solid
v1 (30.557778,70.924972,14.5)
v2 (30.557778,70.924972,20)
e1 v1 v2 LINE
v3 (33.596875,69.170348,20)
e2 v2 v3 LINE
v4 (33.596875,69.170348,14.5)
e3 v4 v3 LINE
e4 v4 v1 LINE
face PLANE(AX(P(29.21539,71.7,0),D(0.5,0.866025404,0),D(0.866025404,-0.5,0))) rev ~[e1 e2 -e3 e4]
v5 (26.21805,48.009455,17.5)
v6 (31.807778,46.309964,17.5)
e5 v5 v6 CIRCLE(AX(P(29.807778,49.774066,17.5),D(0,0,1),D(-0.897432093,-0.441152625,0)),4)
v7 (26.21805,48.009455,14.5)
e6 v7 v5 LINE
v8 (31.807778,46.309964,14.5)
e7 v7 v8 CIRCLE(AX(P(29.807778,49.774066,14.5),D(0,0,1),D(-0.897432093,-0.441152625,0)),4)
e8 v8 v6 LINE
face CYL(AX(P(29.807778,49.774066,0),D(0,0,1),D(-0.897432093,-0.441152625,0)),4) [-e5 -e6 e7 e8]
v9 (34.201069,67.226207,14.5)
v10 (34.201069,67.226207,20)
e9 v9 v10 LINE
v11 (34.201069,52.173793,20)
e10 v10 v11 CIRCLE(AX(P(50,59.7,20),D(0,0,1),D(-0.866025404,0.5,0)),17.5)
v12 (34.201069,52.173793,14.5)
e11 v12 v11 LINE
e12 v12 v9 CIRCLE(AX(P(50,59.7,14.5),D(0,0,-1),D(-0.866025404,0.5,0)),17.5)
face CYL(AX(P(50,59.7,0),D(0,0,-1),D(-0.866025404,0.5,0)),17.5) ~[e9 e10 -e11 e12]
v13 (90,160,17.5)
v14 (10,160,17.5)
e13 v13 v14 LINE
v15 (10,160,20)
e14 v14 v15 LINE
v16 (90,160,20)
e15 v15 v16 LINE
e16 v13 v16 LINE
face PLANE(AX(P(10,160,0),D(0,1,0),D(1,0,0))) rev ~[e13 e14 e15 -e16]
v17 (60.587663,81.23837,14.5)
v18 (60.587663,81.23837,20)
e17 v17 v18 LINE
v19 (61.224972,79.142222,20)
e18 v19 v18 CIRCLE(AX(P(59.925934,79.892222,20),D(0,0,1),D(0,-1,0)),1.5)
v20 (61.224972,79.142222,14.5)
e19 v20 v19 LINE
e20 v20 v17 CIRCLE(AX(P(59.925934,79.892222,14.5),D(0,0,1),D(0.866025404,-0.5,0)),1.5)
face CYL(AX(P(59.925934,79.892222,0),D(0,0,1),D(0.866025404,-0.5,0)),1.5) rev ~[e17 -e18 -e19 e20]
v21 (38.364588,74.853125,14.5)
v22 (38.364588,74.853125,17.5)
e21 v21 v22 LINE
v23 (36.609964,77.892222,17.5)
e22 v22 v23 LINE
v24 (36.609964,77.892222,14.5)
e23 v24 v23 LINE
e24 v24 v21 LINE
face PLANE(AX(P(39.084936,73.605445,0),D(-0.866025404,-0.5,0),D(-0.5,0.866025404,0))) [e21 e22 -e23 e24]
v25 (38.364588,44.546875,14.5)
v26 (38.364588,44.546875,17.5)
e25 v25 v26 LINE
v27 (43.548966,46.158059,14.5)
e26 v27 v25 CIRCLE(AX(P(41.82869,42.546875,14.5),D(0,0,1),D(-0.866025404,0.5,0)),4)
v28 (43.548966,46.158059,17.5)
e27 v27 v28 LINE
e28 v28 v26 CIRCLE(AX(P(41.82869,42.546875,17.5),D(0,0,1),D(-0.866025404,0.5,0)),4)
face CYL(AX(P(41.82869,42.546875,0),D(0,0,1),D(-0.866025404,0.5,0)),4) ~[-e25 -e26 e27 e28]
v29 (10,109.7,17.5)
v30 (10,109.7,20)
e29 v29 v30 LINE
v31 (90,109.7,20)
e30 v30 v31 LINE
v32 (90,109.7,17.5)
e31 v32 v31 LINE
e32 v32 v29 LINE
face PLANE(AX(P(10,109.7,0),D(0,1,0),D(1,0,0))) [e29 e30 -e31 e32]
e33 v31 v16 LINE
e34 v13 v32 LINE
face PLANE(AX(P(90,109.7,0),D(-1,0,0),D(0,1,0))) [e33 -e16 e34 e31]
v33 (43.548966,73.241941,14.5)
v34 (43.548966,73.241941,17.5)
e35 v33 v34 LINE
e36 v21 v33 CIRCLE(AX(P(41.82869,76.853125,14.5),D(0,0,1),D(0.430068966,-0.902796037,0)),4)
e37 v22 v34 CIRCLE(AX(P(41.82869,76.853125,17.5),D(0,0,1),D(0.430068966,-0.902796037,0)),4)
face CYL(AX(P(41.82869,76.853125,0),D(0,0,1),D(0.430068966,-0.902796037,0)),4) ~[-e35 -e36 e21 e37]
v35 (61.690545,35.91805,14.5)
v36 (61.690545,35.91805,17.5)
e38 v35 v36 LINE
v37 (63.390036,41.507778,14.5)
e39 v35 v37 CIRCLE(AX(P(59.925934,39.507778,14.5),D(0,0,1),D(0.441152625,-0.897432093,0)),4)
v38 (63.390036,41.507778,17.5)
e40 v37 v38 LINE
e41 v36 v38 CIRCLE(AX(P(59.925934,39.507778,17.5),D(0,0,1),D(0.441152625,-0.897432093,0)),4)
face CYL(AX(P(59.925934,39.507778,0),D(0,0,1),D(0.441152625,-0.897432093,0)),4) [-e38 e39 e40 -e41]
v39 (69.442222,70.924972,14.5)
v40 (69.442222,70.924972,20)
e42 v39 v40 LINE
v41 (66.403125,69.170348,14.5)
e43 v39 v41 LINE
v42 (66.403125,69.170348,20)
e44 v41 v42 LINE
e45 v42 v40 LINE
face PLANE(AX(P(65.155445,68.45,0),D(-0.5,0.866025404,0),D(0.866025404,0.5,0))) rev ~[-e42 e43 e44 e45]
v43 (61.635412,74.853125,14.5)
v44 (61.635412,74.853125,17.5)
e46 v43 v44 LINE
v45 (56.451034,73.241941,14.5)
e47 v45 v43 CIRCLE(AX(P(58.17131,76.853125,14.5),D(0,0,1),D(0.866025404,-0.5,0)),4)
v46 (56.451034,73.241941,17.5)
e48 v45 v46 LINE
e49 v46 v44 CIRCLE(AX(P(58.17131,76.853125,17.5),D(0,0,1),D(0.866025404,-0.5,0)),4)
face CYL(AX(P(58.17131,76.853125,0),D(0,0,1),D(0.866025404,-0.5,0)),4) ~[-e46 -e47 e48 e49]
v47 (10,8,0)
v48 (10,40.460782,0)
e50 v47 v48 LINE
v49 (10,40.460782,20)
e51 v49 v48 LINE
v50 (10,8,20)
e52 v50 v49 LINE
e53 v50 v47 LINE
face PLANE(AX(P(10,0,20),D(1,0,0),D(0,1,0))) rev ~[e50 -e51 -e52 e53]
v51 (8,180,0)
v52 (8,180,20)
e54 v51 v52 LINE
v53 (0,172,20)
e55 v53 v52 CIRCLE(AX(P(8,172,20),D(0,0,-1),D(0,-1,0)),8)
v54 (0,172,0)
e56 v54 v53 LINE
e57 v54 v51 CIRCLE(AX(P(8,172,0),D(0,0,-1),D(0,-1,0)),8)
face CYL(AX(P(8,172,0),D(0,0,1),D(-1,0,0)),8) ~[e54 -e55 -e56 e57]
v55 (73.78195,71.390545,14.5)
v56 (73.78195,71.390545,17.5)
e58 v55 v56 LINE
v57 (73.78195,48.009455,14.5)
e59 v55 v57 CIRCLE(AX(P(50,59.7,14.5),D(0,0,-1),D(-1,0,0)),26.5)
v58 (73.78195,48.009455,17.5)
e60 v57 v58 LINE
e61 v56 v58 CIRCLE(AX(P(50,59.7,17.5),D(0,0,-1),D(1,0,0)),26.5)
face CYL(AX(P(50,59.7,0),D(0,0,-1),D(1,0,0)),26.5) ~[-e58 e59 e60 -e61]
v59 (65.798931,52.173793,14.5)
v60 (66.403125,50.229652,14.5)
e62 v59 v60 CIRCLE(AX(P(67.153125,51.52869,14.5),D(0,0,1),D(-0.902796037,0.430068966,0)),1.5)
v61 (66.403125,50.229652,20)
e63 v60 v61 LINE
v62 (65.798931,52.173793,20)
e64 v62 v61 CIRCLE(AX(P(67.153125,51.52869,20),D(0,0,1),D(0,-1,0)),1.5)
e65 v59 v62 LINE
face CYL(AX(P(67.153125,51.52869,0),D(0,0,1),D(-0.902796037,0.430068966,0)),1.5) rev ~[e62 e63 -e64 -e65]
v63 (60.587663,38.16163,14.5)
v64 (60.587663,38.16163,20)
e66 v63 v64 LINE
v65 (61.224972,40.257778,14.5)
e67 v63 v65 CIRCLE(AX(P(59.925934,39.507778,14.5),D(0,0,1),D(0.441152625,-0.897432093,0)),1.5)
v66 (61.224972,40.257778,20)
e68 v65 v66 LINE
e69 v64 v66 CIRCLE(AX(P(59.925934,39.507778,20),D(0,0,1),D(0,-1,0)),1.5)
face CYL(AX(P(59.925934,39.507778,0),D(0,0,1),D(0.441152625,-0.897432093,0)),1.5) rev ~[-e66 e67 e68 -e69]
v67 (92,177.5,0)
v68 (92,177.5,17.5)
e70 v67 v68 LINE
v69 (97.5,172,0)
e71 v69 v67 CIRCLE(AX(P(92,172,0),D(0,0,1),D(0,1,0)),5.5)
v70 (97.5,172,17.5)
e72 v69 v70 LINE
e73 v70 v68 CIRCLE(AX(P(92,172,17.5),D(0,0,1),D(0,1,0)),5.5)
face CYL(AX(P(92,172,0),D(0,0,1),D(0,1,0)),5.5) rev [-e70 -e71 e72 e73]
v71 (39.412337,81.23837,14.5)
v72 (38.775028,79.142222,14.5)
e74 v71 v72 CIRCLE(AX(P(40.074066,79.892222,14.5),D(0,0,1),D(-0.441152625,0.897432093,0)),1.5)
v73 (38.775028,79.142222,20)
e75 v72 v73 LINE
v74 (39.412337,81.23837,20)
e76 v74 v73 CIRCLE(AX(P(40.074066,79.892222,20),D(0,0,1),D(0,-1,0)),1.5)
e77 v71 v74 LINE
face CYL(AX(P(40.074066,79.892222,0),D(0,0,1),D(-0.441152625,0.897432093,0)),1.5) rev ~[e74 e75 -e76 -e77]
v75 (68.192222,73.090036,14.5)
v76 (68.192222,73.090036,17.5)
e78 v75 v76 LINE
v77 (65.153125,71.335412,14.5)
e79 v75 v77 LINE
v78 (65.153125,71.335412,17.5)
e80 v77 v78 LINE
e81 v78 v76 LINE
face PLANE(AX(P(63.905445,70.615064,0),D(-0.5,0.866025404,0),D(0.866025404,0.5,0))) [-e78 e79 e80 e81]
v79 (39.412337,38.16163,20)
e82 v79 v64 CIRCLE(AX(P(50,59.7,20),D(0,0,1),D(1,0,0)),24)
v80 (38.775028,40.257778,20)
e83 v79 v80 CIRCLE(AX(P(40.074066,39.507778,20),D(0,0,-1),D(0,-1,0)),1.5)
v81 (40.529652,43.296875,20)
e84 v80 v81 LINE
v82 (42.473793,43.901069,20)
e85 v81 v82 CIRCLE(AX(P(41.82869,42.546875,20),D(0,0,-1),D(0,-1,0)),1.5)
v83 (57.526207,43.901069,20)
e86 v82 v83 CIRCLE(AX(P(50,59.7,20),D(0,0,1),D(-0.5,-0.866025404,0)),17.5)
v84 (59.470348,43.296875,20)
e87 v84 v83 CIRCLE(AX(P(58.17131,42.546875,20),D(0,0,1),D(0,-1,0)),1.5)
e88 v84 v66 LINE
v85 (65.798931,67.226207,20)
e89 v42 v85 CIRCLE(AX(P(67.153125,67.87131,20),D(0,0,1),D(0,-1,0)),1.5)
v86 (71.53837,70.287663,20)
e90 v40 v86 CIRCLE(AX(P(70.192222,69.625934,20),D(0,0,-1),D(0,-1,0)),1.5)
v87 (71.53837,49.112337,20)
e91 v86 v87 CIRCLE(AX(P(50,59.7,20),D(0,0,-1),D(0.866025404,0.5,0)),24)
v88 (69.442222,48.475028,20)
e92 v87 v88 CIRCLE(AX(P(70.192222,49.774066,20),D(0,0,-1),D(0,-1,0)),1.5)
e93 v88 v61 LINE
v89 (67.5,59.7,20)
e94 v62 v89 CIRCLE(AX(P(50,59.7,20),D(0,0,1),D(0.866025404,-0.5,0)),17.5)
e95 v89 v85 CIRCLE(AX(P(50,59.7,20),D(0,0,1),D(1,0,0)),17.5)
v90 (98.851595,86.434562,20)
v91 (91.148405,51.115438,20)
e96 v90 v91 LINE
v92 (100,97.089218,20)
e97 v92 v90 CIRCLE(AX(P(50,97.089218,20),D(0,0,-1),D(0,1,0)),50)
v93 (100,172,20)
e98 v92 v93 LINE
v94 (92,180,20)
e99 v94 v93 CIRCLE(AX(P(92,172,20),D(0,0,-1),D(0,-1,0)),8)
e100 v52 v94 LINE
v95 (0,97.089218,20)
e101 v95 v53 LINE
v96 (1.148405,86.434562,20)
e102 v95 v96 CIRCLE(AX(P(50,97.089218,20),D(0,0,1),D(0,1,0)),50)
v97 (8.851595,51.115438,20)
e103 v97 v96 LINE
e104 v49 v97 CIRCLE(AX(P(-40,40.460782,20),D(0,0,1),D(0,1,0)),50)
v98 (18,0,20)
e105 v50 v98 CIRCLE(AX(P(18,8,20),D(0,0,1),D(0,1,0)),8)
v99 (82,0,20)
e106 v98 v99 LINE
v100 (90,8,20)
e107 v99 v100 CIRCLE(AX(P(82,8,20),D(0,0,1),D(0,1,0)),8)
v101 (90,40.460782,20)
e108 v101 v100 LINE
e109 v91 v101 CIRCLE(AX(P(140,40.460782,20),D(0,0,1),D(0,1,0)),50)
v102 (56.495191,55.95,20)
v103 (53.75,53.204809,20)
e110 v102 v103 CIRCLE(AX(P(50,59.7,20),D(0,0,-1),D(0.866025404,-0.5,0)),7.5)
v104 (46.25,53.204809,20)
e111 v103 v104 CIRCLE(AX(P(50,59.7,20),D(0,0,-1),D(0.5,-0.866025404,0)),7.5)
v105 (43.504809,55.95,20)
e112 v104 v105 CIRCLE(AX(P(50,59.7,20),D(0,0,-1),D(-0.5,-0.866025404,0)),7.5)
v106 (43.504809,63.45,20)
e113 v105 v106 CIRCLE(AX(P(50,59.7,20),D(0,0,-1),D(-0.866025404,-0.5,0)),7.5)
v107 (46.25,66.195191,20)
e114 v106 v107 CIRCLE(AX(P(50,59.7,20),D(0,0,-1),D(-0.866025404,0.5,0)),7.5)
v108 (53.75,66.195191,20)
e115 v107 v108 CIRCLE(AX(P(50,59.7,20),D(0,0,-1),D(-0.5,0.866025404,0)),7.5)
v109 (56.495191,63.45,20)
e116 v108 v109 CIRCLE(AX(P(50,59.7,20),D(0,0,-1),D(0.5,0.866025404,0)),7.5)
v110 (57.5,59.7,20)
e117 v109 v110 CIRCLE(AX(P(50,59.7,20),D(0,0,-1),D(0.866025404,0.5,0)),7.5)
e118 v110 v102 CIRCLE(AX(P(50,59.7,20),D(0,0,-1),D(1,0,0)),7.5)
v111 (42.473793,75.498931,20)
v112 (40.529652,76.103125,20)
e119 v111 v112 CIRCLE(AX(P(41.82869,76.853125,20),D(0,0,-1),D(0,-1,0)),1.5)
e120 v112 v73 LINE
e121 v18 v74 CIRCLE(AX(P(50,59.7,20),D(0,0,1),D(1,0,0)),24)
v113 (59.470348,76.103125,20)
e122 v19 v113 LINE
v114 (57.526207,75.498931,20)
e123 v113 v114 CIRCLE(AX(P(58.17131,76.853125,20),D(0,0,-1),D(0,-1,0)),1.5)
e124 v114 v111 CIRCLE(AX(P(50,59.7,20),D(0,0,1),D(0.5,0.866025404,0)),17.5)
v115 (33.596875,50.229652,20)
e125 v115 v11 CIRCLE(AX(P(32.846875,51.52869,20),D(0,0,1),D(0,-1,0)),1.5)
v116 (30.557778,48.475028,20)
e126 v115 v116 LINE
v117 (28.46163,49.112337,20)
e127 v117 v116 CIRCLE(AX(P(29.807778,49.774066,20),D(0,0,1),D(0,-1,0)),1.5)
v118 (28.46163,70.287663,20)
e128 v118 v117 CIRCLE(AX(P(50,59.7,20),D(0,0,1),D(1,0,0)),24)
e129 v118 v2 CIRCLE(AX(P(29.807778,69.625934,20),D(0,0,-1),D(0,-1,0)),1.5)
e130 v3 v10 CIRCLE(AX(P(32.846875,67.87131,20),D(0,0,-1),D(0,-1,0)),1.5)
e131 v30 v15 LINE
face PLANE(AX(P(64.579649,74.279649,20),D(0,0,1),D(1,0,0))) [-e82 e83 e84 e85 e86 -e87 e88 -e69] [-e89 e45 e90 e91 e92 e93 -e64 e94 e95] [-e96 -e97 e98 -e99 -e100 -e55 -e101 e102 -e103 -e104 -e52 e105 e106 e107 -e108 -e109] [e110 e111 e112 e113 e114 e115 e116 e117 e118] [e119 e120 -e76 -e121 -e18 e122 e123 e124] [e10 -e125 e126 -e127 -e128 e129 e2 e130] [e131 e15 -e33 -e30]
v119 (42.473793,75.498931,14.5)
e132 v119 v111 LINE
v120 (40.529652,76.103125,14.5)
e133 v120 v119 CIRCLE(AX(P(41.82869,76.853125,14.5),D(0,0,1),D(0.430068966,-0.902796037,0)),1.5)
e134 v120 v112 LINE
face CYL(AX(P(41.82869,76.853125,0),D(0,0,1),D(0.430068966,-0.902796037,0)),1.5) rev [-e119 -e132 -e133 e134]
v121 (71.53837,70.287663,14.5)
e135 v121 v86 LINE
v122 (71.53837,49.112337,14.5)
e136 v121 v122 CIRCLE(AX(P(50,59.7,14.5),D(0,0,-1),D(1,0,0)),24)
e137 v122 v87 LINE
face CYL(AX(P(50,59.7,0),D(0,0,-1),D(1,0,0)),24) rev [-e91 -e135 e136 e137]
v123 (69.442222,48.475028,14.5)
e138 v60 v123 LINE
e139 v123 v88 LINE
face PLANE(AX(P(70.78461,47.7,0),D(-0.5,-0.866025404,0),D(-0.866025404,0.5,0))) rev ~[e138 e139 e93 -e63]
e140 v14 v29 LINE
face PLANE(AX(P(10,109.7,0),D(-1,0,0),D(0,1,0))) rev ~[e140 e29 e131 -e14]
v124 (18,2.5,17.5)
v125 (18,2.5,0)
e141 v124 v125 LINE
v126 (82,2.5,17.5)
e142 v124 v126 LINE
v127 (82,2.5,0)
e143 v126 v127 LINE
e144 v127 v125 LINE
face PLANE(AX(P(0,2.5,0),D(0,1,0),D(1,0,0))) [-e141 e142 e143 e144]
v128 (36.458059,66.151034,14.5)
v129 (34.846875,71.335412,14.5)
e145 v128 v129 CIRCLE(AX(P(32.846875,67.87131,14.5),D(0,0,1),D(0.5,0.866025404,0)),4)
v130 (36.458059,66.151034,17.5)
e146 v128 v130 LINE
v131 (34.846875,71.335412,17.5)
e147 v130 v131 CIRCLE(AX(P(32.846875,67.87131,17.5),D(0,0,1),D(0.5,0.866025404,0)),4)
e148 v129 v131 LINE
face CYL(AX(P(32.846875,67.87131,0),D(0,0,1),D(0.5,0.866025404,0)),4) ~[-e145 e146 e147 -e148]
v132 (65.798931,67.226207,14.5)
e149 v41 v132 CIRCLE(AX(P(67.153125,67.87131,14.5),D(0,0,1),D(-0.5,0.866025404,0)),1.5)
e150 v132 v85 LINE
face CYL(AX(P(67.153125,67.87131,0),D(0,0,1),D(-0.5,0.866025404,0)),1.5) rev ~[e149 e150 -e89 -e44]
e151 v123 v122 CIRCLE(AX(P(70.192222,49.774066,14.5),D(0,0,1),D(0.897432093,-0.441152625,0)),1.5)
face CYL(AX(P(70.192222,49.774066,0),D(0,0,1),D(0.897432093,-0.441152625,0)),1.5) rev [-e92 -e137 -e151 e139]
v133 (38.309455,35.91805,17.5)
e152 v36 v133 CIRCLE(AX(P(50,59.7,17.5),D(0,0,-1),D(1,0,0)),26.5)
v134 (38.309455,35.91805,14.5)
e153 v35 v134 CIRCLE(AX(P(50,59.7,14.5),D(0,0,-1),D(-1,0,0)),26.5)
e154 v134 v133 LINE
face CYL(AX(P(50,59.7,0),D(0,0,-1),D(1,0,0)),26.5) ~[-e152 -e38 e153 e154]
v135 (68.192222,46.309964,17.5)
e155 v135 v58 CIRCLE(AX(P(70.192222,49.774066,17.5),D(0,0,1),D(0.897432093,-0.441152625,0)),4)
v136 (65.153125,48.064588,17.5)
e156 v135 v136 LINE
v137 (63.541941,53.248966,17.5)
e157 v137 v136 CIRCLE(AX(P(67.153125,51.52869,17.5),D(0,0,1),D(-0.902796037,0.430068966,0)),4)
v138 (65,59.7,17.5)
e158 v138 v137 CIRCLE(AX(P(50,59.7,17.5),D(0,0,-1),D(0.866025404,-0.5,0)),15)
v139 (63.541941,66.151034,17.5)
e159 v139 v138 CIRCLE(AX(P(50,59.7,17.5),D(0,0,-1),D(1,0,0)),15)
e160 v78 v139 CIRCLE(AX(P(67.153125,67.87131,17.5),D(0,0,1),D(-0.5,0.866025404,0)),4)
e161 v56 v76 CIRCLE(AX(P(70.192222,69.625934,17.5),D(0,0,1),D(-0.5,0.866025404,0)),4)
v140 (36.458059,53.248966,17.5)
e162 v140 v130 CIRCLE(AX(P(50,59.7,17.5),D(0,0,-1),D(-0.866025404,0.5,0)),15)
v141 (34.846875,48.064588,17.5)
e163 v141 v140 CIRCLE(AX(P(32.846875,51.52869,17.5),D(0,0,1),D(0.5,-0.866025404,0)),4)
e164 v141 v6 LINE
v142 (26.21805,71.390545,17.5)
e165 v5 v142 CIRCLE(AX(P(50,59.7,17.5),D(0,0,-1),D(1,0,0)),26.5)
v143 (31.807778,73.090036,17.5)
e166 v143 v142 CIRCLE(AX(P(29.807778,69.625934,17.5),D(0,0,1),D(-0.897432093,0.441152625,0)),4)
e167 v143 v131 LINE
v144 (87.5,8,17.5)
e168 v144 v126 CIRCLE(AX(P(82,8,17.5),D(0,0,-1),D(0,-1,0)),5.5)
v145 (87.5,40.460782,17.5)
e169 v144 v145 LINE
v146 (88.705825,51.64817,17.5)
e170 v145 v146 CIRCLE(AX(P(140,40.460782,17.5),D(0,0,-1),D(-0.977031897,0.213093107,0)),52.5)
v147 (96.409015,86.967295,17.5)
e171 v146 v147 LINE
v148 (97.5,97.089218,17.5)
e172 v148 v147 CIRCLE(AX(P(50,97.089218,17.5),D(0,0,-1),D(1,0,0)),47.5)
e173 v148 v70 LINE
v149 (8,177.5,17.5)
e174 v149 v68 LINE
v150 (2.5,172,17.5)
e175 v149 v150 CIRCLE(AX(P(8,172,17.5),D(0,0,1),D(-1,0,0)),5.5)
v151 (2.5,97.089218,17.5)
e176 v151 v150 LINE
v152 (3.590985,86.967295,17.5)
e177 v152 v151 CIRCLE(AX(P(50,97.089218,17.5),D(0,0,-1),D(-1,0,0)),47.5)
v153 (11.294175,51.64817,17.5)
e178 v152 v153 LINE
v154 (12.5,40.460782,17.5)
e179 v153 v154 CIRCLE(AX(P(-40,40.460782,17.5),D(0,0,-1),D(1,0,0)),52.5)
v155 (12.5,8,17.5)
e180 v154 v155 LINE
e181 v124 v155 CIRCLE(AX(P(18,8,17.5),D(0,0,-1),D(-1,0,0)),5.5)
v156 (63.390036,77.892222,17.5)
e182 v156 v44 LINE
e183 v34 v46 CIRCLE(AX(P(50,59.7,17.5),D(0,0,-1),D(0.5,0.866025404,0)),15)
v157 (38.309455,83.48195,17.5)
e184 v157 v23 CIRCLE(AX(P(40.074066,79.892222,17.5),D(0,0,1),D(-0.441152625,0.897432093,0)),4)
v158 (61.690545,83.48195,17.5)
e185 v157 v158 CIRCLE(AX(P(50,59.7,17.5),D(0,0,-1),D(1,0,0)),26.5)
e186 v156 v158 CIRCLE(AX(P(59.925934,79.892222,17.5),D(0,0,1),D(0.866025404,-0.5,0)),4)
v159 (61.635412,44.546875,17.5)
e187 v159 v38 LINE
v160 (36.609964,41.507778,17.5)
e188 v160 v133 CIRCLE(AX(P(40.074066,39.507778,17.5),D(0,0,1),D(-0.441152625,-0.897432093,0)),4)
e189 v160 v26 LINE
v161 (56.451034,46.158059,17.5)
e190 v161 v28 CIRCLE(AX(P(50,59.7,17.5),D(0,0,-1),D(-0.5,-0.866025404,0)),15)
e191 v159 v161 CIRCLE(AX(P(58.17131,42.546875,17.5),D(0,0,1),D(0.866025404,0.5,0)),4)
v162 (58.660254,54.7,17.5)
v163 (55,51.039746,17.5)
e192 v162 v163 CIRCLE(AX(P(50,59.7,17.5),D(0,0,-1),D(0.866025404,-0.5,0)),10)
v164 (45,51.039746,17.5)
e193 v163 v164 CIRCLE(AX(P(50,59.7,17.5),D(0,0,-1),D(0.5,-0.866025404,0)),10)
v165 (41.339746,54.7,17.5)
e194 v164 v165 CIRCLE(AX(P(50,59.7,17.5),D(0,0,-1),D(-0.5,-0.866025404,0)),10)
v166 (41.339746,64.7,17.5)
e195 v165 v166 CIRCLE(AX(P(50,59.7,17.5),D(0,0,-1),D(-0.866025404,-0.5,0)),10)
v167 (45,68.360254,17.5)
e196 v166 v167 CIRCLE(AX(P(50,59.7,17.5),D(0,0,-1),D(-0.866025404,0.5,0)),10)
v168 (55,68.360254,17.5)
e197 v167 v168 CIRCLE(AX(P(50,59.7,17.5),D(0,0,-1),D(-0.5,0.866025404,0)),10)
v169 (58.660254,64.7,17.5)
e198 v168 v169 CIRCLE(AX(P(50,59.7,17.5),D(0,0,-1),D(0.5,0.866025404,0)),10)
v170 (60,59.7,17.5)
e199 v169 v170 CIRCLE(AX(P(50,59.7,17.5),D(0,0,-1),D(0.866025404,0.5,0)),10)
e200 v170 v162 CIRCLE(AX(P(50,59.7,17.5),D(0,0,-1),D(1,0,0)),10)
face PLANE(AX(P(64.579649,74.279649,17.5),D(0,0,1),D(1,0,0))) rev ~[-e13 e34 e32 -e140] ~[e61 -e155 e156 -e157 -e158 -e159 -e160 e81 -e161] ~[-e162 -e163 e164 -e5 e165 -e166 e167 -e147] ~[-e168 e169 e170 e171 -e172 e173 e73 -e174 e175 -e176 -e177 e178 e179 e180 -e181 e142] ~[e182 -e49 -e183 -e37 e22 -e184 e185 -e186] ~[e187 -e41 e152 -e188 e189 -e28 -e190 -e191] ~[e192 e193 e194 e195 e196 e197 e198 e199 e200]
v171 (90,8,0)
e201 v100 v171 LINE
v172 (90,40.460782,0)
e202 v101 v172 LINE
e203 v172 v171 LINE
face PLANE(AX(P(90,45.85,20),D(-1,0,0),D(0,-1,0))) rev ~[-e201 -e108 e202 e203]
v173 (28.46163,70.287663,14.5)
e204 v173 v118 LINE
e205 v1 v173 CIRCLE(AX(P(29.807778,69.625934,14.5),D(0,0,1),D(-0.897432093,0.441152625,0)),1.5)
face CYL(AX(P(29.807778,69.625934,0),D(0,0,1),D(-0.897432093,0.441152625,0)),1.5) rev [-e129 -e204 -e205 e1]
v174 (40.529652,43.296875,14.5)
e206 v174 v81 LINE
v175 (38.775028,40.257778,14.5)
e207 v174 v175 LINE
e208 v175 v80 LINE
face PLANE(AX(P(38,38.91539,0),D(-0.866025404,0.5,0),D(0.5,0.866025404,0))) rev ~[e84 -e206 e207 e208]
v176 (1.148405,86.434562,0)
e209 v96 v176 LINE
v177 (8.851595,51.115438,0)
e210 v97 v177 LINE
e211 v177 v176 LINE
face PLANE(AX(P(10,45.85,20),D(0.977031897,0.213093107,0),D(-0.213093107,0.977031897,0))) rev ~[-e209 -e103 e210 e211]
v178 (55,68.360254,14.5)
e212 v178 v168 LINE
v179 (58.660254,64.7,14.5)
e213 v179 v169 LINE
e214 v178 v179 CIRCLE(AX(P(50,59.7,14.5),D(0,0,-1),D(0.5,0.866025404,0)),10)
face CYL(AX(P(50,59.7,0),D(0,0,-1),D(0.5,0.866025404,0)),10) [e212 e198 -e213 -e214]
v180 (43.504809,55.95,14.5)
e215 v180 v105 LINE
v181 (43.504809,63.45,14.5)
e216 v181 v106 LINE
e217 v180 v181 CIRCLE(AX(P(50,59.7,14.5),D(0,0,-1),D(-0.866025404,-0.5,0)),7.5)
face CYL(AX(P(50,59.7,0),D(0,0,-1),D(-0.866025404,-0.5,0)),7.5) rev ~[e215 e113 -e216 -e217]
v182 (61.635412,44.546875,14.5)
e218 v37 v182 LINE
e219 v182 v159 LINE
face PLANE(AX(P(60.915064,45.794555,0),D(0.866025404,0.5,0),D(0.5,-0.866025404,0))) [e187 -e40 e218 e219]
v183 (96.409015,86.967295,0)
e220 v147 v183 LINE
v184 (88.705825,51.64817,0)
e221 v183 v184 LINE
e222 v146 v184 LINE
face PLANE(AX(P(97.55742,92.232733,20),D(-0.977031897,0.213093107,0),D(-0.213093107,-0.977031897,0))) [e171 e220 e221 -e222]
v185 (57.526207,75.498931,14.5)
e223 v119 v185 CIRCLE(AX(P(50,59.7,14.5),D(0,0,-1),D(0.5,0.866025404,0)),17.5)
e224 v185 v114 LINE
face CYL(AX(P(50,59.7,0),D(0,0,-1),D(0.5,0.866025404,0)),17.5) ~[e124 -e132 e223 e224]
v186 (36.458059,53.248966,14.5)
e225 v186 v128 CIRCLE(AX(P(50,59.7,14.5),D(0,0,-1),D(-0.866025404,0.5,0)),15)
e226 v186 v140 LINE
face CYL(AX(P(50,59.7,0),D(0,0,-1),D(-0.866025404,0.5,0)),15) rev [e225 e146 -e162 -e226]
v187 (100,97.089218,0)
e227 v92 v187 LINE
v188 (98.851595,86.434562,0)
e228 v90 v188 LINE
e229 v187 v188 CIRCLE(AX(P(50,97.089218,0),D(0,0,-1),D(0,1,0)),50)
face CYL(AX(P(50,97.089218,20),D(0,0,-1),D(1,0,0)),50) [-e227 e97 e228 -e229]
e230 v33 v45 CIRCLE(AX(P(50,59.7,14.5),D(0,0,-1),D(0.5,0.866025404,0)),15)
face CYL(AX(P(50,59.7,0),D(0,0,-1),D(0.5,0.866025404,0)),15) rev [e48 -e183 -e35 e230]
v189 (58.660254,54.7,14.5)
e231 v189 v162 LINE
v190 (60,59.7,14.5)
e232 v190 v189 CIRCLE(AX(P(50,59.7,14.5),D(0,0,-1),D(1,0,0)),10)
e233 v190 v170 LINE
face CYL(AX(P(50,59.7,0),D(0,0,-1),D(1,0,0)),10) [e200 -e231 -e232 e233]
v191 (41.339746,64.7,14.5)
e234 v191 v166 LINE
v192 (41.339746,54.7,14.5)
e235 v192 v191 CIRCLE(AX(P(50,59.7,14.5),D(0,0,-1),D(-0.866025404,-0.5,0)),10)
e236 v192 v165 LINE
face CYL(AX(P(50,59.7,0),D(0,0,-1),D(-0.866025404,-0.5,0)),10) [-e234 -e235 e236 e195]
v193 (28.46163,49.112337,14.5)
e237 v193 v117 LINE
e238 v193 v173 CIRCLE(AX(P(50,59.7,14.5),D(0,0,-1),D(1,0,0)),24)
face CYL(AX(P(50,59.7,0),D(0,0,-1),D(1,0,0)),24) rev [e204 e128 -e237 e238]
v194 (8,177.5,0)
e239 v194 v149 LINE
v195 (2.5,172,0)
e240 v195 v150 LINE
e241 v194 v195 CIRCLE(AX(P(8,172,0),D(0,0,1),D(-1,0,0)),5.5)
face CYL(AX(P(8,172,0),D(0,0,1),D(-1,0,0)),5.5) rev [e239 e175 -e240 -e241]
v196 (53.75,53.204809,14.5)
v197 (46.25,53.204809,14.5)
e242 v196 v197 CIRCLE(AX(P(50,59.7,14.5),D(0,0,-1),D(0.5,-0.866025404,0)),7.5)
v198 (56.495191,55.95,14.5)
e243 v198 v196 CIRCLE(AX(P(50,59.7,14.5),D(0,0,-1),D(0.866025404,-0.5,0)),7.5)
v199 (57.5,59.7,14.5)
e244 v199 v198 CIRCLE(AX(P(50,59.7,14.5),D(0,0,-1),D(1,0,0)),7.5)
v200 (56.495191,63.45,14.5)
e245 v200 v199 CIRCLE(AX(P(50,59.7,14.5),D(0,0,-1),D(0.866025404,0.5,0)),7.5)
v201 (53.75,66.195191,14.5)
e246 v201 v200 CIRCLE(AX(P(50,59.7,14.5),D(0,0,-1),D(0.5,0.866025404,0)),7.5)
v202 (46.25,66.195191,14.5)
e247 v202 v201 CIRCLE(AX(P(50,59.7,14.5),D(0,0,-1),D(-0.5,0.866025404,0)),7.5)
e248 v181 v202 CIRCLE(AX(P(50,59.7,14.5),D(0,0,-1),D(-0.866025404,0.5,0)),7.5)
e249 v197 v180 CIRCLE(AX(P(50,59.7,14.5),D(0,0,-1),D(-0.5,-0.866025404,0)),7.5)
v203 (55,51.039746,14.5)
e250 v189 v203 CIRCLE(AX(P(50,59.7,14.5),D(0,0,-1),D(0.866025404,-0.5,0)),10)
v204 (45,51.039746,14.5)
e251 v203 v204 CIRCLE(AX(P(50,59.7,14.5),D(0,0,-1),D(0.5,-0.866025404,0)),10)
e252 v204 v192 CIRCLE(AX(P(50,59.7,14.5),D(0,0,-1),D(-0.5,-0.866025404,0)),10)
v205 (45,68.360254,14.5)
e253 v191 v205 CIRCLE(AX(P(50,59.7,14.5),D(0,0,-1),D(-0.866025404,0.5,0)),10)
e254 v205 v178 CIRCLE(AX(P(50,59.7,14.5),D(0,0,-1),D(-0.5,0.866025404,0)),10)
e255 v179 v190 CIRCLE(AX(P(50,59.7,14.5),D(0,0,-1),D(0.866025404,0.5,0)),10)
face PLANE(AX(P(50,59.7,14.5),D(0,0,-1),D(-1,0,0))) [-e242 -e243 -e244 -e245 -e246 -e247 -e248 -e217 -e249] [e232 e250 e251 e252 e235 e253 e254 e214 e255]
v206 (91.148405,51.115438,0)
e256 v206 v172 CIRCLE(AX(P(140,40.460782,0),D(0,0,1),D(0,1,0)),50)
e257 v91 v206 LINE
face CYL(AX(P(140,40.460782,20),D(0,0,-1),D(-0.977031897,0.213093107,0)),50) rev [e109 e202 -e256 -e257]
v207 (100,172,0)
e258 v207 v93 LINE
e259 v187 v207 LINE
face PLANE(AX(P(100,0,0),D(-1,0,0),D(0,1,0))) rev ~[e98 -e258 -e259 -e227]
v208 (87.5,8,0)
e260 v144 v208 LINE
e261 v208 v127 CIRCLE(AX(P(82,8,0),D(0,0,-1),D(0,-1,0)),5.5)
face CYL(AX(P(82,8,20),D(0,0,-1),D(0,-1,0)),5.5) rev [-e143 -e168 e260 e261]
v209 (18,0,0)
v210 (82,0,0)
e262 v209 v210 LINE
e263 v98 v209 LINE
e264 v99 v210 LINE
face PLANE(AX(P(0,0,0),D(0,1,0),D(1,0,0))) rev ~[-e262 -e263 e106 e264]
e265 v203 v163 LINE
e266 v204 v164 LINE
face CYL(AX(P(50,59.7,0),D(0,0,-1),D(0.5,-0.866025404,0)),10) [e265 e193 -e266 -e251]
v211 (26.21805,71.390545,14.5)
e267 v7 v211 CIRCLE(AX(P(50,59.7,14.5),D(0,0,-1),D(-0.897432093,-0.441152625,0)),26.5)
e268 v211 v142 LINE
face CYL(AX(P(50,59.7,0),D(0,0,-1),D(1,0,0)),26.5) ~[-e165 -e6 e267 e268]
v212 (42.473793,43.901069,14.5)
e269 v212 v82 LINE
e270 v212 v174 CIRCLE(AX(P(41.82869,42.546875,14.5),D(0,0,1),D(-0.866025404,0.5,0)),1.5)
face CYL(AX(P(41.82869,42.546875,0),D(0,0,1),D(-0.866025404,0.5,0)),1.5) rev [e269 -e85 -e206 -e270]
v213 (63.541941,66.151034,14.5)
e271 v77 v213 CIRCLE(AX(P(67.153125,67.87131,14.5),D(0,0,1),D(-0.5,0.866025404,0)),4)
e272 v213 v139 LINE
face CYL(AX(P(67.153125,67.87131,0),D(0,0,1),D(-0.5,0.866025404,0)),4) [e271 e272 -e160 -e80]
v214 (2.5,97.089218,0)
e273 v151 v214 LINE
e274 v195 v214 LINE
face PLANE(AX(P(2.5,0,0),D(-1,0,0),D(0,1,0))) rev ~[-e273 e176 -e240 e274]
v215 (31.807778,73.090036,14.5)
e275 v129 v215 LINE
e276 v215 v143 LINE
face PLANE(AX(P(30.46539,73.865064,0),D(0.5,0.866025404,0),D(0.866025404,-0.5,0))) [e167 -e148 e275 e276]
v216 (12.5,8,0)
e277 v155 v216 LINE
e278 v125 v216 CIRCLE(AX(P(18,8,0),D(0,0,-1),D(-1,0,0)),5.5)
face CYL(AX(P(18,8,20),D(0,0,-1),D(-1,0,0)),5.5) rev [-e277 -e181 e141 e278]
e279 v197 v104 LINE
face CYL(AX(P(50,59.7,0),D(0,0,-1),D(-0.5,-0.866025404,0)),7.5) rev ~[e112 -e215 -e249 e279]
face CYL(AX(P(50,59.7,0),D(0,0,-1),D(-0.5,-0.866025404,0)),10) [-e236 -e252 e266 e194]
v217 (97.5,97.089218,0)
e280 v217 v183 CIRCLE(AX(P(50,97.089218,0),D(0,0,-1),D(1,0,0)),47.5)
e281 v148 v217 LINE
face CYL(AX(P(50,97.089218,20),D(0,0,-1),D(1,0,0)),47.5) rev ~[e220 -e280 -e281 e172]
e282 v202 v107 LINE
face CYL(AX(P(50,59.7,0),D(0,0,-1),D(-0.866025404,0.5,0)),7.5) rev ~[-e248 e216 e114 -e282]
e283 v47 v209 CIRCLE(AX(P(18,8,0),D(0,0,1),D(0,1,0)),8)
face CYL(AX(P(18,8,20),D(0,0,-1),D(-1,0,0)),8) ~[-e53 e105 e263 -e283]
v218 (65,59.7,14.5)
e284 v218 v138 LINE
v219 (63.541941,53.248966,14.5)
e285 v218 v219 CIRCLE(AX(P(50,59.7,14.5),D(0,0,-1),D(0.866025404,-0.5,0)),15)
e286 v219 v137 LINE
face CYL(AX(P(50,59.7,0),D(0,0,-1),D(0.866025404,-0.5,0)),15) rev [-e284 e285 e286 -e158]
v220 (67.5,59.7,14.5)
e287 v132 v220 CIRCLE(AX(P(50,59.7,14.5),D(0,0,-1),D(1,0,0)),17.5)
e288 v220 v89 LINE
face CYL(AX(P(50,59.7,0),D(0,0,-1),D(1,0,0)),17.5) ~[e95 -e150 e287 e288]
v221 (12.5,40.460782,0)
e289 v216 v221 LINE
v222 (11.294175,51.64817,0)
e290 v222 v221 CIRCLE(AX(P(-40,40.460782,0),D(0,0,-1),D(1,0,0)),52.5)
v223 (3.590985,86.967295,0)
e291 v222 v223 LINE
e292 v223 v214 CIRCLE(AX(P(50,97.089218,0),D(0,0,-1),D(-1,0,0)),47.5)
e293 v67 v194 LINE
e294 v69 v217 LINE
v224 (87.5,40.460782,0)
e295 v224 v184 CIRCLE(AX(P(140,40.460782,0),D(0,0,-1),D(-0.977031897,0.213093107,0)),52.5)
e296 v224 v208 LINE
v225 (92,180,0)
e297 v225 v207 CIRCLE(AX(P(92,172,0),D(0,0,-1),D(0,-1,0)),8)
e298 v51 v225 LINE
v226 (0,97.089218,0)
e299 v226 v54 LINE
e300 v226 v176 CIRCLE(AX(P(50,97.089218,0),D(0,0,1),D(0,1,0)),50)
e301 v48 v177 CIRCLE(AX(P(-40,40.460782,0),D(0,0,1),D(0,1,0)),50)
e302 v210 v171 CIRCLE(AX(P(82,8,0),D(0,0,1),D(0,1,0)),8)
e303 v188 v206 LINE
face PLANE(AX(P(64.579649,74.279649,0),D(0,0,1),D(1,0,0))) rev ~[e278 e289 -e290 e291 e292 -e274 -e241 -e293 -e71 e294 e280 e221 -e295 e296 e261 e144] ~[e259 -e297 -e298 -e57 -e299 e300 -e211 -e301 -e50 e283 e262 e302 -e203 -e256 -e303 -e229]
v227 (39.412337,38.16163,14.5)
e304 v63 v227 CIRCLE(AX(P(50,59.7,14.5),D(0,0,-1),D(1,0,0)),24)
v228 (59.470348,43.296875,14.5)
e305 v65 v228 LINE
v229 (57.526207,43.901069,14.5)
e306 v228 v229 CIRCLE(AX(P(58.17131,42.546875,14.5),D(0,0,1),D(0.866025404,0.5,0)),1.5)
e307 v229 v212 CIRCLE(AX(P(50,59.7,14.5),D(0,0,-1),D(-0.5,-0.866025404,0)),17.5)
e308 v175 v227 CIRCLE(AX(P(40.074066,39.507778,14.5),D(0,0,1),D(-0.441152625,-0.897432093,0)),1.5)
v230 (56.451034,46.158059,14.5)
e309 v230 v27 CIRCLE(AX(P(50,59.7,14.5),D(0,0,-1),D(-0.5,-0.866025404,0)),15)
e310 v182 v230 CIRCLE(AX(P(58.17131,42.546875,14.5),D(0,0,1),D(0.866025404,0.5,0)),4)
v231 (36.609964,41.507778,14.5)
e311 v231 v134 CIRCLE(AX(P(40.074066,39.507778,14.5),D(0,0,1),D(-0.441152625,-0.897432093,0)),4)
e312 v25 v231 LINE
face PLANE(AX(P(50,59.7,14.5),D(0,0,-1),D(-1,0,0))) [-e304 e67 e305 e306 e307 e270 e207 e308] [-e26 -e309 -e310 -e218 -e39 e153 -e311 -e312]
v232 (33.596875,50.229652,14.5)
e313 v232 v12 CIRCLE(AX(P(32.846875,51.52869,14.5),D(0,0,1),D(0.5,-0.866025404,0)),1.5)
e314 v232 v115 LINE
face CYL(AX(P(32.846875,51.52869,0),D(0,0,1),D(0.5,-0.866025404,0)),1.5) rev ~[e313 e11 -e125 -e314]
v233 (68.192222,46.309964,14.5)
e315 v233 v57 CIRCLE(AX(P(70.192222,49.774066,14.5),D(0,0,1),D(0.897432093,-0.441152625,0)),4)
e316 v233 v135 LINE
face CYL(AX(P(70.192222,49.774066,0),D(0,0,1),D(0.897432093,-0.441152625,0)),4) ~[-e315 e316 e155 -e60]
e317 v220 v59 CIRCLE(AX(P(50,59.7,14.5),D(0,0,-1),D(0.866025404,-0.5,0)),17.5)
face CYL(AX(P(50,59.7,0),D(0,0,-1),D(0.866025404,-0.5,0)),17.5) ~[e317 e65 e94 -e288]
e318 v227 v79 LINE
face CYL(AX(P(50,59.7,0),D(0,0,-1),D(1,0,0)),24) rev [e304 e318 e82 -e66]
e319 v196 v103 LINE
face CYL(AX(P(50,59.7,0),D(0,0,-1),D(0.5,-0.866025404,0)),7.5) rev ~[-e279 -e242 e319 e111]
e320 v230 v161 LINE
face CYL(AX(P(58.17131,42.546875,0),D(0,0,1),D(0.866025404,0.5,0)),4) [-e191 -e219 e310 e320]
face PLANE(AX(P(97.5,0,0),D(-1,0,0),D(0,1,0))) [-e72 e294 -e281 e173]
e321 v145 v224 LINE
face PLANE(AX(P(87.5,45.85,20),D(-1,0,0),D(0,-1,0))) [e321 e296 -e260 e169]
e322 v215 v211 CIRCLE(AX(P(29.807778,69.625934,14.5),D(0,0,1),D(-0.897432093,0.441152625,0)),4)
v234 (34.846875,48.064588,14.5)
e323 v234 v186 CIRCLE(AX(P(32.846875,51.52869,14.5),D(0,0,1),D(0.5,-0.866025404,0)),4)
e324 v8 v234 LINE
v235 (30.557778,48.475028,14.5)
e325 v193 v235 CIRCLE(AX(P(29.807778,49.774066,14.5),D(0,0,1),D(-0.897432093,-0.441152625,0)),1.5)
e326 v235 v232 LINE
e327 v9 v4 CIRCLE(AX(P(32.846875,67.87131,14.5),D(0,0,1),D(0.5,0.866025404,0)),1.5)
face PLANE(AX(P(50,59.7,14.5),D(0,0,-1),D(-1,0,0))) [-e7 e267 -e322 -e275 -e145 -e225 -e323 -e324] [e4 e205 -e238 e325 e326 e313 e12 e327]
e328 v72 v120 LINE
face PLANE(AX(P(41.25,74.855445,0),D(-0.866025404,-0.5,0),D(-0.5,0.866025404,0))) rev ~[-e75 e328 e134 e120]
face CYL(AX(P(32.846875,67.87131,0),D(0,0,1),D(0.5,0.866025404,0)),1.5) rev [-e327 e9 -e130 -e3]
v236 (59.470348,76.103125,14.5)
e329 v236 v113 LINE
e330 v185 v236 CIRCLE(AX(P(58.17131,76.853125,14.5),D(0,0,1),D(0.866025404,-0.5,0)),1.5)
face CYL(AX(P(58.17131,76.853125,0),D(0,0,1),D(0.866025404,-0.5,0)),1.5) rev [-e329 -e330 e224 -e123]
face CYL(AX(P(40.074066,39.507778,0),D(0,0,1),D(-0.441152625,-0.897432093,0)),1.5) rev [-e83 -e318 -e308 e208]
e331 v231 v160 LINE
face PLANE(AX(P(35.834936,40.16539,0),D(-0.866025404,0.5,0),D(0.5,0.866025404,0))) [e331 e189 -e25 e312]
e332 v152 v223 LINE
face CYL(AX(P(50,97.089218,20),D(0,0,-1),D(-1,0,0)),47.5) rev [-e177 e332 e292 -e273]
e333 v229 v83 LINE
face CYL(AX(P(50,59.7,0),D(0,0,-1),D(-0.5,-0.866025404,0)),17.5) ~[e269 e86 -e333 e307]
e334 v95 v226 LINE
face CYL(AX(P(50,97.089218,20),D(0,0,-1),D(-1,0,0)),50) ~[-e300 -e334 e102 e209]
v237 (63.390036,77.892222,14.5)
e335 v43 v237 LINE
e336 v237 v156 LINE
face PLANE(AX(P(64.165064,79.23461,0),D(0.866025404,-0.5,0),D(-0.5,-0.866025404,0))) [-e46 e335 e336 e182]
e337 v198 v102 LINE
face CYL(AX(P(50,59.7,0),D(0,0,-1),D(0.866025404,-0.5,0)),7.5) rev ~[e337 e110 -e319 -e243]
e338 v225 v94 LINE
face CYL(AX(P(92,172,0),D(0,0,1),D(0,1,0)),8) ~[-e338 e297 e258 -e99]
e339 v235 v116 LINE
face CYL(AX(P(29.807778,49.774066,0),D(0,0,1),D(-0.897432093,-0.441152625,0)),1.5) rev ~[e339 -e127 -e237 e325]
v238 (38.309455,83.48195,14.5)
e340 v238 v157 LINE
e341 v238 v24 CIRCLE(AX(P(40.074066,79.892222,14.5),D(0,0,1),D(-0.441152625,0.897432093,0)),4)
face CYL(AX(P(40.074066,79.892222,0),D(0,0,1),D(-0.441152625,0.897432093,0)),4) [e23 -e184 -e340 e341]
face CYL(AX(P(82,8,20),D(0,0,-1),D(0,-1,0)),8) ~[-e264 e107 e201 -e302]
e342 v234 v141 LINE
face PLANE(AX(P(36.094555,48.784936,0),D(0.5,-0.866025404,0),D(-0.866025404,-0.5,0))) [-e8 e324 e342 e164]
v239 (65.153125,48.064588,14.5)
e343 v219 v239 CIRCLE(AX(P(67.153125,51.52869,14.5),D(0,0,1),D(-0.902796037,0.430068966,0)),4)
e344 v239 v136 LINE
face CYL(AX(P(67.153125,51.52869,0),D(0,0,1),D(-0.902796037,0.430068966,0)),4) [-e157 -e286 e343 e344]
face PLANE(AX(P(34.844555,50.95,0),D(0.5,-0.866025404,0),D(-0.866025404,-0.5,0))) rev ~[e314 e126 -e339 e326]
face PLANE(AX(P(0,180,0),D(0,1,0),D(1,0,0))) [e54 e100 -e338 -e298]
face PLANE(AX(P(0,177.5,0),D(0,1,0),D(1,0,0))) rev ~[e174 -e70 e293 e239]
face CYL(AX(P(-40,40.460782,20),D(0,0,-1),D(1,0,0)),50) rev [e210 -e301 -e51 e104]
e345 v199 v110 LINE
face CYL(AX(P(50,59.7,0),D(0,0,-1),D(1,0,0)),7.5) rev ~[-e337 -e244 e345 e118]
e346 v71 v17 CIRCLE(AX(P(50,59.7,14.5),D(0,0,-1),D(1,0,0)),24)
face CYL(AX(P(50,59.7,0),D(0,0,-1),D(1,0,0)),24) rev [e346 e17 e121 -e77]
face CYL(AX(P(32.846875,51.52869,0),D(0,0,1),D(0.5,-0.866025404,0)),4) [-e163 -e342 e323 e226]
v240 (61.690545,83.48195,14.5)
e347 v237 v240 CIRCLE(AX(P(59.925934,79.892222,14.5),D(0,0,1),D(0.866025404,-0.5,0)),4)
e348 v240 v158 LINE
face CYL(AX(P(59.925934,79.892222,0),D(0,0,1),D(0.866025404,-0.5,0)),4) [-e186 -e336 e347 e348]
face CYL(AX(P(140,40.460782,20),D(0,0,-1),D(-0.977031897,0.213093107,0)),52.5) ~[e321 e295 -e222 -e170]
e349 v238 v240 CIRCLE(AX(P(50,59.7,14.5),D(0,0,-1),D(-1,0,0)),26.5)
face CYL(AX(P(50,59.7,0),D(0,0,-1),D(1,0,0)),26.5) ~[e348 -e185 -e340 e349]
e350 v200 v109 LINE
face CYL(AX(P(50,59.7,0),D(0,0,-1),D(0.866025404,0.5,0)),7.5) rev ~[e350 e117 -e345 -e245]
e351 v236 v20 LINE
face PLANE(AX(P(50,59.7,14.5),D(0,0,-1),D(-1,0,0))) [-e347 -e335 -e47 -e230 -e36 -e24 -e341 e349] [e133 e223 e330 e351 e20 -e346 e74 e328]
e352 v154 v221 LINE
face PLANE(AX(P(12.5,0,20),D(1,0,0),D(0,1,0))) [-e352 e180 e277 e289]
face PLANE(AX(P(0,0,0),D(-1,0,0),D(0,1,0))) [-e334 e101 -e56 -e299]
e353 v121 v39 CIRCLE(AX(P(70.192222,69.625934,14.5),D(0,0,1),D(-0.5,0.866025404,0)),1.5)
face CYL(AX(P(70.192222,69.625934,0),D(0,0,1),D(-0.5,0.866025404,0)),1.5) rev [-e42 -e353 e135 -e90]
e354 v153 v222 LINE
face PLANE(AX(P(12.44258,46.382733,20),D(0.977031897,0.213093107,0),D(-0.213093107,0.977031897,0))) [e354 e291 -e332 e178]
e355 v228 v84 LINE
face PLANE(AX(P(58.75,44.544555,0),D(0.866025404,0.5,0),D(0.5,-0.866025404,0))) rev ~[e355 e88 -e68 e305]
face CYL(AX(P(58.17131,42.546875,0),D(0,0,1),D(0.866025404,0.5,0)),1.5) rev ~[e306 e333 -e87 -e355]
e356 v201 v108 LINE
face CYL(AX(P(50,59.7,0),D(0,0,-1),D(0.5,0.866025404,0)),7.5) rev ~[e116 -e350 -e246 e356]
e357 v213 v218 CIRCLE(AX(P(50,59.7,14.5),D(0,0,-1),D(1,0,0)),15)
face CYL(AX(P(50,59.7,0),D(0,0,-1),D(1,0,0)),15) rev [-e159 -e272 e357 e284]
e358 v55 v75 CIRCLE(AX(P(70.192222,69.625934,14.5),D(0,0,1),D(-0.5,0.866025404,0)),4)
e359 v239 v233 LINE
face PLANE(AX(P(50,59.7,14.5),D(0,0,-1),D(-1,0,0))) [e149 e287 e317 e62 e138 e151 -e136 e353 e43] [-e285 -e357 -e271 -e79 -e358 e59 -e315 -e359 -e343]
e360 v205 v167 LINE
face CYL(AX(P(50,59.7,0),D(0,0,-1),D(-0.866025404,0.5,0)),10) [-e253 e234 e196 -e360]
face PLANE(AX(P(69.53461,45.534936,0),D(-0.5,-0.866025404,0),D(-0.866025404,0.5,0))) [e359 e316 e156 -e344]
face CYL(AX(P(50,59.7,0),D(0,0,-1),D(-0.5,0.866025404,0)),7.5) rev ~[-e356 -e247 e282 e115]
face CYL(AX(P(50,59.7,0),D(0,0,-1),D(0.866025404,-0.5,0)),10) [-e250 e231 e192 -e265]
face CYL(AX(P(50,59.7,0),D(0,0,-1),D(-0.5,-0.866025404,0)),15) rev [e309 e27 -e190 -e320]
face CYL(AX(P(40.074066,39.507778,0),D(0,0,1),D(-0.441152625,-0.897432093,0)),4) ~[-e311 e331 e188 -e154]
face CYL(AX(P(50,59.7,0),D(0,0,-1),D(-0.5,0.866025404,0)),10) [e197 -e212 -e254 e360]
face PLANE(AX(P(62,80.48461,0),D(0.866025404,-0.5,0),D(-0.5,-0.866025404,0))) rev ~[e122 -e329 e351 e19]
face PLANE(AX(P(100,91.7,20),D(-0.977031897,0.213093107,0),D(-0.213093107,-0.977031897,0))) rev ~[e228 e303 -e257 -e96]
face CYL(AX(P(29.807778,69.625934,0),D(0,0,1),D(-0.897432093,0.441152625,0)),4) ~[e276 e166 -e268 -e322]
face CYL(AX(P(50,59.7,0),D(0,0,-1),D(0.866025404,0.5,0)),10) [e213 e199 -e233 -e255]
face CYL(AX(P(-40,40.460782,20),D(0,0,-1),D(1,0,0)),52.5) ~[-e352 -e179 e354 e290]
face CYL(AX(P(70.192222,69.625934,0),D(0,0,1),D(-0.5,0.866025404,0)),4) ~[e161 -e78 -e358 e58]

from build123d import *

# Parameters (mm, degrees)
ESBO_O1_W                = 100
ESBO_O1_H                = 180
ESBO_O1_R                = 24
ESBO_O1_W_2              = 80
ESBO_O1_H_2              = 50.3
RESSALTO_EXTRUS_O1_DEPTH = 20
CORTE_EXTRUS_O1_DEPTH    = 227.2
FILETE1_R                = 50
FILETE2_R                = 8
FILETE3_R                = 1.5
CASCA1_T                 = -2.5
CORTE_EXTRUS_O2_START    = 108.4
ESBO_O3_R                = 26.5
CORTE_EXTRUS_O2_DEPTH    = 105.4
ESBO_O4_W                = 85
ESBO_O4_H                = 55.3
CORTE_EXTRUS_O3_DEPTH    = 17.5


with BuildPart() as part:
    # Esboço1 → Ressalto-extrusão1 (new body)
    # profile 1 of 13: a face of its own
    with BuildSketch(Plane.XY):
        with Locations((50, 90)):
            Rectangle(ESBO_O1_W, ESBO_O1_H)
        with Locations((50, 59.7)):
            Circle(ESBO_O1_R, mode=Mode.SUBTRACT)
        with Locations((50, 134.85)):
            Rectangle(ESBO_O1_W_2, ESBO_O1_H_2, mode=Mode.SUBTRACT)
    # profile 2 of 13: a face of its own
    with BuildSketch(Plane.XY):
        with BuildLine():
            ThreePointArc((58.75, 74.855444566), (50, 77.2), (41.25, 74.855444566))
            Line((41.25, 74.855444566), (46.25, 66.195190528))
            ThreePointArc((46.25, 66.195190528), (50, 67.2), (53.75, 66.195190528))
            Line((53.75, 66.195190528), (58.75, 74.855444566))
        make_face()
    # profile 3 of 13: a face of its own
    with BuildSketch(Plane.XY):
        with BuildLine():
            Line((46.25, 66.195190528), (41.25, 74.855444566))
            ThreePointArc((41.25, 74.855444566), (37.625631329, 72.074368671), (34.844555434, 68.45))
            Line((34.844555434, 68.45), (43.504809472, 63.45))
            ThreePointArc((43.504809472, 63.45), (44.696699141, 65.003300859), (46.25, 66.195190528))
        make_face()
    # profile 4 of 13: a face of its own
    with BuildSketch(Plane.XY):
        with BuildLine():
            Line((43.504809472, 63.45), (34.844555434, 68.45))
            ThreePointArc((34.844555434, 68.45), (32.5, 59.7), (34.844555434, 50.95))
            Line((34.844555434, 50.95), (43.504809472, 55.95))
            ThreePointArc((43.504809472, 55.95), (42.5, 59.7), (43.504809472, 63.45))
        make_face()
    # profile 5 of 13: a face of its own
    with BuildSketch(Plane.XY):
        with BuildLine():
            Line((43.504809472, 55.95), (34.844555434, 50.95))
            ThreePointArc((34.844555434, 50.95), (37.625631329, 47.325631329), (41.25, 44.544555434))
            Line((41.25, 44.544555434), (46.25, 53.204809472))
            ThreePointArc((46.25, 53.204809472), (44.696699141, 54.396699141), (43.504809472, 55.95))
        make_face()
    # profile 6 of 13: a face of its own
    with BuildSketch(Plane.XY):
        with BuildLine():
            Line((58.75, 44.544555434), (53.75, 53.204809472))
            ThreePointArc((53.75, 53.204809472), (50, 52.2), (46.25, 53.204809472))
            Line((46.25, 53.204809472), (41.25, 44.544555434))
            ThreePointArc((41.25, 44.544555434), (50, 42.2), (58.75, 44.544555434))
        make_face()
    # profile 7 of 13: a face of its own
    with BuildSketch(Plane.XY):
        with BuildLine():
            ThreePointArc((67.5, 59.7), (66.90370196, 64.229333289), (65.155444566, 68.45))
            Line((65.155444566, 68.45), (56.495190528, 63.45))
            ThreePointArc((56.495190528, 63.45), (57.244443697, 61.641142838), (57.5, 59.7))
            ThreePointArc((57.5, 59.7), (57.244443697, 57.758857162), (56.495190528, 55.95))
            Line((56.495190528, 55.95), (65.155444566, 50.95))
            ThreePointArc((65.155444566, 50.95), (66.90370196, 55.170666711), (67.5, 59.7))
        make_face()
    # profile 8 of 13: a face of its own
    with BuildSketch(Plane.XY):
        with BuildLine():
            ThreePointArc((56.495190528, 55.95), (55.303300859, 54.396699141), (53.75, 53.204809472))
            Line((53.75, 53.204809472), (58.75, 44.544555434))
            ThreePointArc((58.75, 44.544555434), (62.374368671, 47.325631329), (65.155444566, 50.95))
            Line((65.155444566, 50.95), (56.495190528, 55.95))
        make_face()
    # profile 9 of 13: a face of its own
    with BuildSketch(Plane.XY):
        with BuildLine():
            ThreePointArc((65.155444566, 68.45), (62.374368671, 72.074368671), (58.75, 74.855444566))
            Line((58.75, 74.855444566), (53.75, 66.195190528))
            ThreePointArc((53.75, 66.195190528), (55.303300859, 65.003300859), (56.495190528, 63.45))
            Line((56.495190528, 63.45), (65.155444566, 68.45))
        make_face()
    # profile 10 of 13: a face of its own
    with BuildSketch(Plane.XY):
        with BuildLine():
            Line((41.25, 74.855444566), (38, 80.484609691))
            ThreePointArc((38, 80.484609691), (33.029437252, 76.670562748), (29.215390309, 71.7))
            Line((29.215390309, 71.7), (34.844555434, 68.45))
            ThreePointArc((34.844555434, 68.45), (37.625631329, 72.074368671), (41.25, 74.855444566))
        make_face()
    # profile 11 of 13: a face of its own
    with BuildSketch(Plane.XY):
        with BuildLine():
            Line((34.844555434, 50.95), (29.215390309, 47.7))
            ThreePointArc((29.215390309, 47.7), (33.029437252, 42.729437252), (38, 38.915390309))
            Line((38, 38.915390309), (41.25, 44.544555434))
            ThreePointArc((41.25, 44.544555434), (37.625631329, 47.325631329), (34.844555434, 50.95))
        make_face()
    # profile 12 of 13: a face of its own
    with BuildSketch(Plane.XY):
        with BuildLine():
            ThreePointArc((62, 38.915390309), (66.970562748, 42.729437252), (70.784609691, 47.7))
            Line((70.784609691, 47.7), (65.155444566, 50.95))
            ThreePointArc((65.155444566, 50.95), (62.374368671, 47.325631329), (58.75, 44.544555434))
            Line((58.75, 44.544555434), (62, 38.915390309))
        make_face()
    # profile 13 of 13: a face of its own
    with BuildSketch(Plane.XY):
        with BuildLine():
            ThreePointArc((70.784609691, 71.7), (66.970562748, 76.670562748), (62, 80.484609691))
            Line((62, 80.484609691), (58.75, 74.855444566))
            ThreePointArc((58.75, 74.855444566), (62.374368671, 72.074368671), (65.155444566, 68.45))
            Line((65.155444566, 68.45), (70.784609691, 71.7))
        make_face()
    extrude(amount=RESSALTO_EXTRUS_O1_DEPTH)

    # Esboço2 → Corte-extrusão1 (cut)
    with BuildSketch(Plane.XY.offset(20)):
        Polygon((10, 45.85), (0, 91.7), (0, 0), (10, 0), align=None)
        Polygon((90, 45.85), (90, 0), (100, 0), (100, 91.7), align=None)
    extrude(amount=-CORTE_EXTRUS_O1_DEPTH, mode=Mode.SUBTRACT)

    # Filete1
    filete1_edges = [part.edges().sort_by_distance(p)[0] for p in [
        (90, 45.85, 10),
        (0, 91.7, 10),
        (10, 45.85, 10),
        (100, 91.7, 10),
    ]]
    fillet(filete1_edges, radius=FILETE1_R)

    # Filete2
    filete2_edges = [part.edges().sort_by_distance(p)[0] for p in [
        (90, 0, 10),
        (0, 180, 10),
        (100, 180, 10),
        (10, 0, 10),
    ]]
    fillet(filete2_edges, radius=FILETE2_R)

    # Filete3
    filete3_edges = [part.edges().sort_by_distance(p)[0] for p in [
        (58.75, 74.855444566, 10),
        (62, 80.484609691, 10),
        (38, 80.484609691, 10),
        (41.25, 74.855444566, 10),
        (34.844555434, 68.45, 10),
        (29.215390309, 71.7, 10),
        (29.215390309, 47.7, 10),
        (34.844555434, 50.95, 10),
        (70.784609691, 47.7, 10),
        (70.784609691, 71.7, 10),
        (65.155444566, 68.45, 10),
        (65.155444566, 50.95, 10),
        (41.25, 44.544555434, 10),
        (38, 38.915390309, 10),
        (62, 38.915390309, 10),
        (58.75, 44.544555434, 10),
    ]]
    fillet(filete3_edges, radius=FILETE3_R)

    # Casca1
    casca1_openings = [part.faces().sort_by_distance(p)[0] for p in [
        (50, 40.944516246, 0),
    ]]
    offset(amount=CASCA1_T, openings=casca1_openings, kind=Kind.INTERSECTION)

    # Esboço3 → Corte-extrusão2 (cut)
    with BuildSketch(Plane(origin=(0, 0, 17.5), x_dir=(-1, 0, 0), z_dir=(0, 0, -1)).offset(CORTE_EXTRUS_O2_START)):
        with Locations((-50, 59.7)):
            Circle(ESBO_O3_R)
    extrude(amount=-CORTE_EXTRUS_O2_DEPTH, mode=Mode.SUBTRACT)

    # Esboço4 → Corte-extrusão3 (cut)
    with BuildSketch(Plane(origin=(0, 0, 0), x_dir=(-1, 0, 0), z_dir=(0, 0, -1))):
        with Locations((-50, 134.85)):
            Rectangle(ESBO_O4_W, ESBO_O4_H)
    extrude(amount=-CORTE_EXTRUS_O3_DEPTH, mode=Mode.SUBTRACT)


solid = part.part
